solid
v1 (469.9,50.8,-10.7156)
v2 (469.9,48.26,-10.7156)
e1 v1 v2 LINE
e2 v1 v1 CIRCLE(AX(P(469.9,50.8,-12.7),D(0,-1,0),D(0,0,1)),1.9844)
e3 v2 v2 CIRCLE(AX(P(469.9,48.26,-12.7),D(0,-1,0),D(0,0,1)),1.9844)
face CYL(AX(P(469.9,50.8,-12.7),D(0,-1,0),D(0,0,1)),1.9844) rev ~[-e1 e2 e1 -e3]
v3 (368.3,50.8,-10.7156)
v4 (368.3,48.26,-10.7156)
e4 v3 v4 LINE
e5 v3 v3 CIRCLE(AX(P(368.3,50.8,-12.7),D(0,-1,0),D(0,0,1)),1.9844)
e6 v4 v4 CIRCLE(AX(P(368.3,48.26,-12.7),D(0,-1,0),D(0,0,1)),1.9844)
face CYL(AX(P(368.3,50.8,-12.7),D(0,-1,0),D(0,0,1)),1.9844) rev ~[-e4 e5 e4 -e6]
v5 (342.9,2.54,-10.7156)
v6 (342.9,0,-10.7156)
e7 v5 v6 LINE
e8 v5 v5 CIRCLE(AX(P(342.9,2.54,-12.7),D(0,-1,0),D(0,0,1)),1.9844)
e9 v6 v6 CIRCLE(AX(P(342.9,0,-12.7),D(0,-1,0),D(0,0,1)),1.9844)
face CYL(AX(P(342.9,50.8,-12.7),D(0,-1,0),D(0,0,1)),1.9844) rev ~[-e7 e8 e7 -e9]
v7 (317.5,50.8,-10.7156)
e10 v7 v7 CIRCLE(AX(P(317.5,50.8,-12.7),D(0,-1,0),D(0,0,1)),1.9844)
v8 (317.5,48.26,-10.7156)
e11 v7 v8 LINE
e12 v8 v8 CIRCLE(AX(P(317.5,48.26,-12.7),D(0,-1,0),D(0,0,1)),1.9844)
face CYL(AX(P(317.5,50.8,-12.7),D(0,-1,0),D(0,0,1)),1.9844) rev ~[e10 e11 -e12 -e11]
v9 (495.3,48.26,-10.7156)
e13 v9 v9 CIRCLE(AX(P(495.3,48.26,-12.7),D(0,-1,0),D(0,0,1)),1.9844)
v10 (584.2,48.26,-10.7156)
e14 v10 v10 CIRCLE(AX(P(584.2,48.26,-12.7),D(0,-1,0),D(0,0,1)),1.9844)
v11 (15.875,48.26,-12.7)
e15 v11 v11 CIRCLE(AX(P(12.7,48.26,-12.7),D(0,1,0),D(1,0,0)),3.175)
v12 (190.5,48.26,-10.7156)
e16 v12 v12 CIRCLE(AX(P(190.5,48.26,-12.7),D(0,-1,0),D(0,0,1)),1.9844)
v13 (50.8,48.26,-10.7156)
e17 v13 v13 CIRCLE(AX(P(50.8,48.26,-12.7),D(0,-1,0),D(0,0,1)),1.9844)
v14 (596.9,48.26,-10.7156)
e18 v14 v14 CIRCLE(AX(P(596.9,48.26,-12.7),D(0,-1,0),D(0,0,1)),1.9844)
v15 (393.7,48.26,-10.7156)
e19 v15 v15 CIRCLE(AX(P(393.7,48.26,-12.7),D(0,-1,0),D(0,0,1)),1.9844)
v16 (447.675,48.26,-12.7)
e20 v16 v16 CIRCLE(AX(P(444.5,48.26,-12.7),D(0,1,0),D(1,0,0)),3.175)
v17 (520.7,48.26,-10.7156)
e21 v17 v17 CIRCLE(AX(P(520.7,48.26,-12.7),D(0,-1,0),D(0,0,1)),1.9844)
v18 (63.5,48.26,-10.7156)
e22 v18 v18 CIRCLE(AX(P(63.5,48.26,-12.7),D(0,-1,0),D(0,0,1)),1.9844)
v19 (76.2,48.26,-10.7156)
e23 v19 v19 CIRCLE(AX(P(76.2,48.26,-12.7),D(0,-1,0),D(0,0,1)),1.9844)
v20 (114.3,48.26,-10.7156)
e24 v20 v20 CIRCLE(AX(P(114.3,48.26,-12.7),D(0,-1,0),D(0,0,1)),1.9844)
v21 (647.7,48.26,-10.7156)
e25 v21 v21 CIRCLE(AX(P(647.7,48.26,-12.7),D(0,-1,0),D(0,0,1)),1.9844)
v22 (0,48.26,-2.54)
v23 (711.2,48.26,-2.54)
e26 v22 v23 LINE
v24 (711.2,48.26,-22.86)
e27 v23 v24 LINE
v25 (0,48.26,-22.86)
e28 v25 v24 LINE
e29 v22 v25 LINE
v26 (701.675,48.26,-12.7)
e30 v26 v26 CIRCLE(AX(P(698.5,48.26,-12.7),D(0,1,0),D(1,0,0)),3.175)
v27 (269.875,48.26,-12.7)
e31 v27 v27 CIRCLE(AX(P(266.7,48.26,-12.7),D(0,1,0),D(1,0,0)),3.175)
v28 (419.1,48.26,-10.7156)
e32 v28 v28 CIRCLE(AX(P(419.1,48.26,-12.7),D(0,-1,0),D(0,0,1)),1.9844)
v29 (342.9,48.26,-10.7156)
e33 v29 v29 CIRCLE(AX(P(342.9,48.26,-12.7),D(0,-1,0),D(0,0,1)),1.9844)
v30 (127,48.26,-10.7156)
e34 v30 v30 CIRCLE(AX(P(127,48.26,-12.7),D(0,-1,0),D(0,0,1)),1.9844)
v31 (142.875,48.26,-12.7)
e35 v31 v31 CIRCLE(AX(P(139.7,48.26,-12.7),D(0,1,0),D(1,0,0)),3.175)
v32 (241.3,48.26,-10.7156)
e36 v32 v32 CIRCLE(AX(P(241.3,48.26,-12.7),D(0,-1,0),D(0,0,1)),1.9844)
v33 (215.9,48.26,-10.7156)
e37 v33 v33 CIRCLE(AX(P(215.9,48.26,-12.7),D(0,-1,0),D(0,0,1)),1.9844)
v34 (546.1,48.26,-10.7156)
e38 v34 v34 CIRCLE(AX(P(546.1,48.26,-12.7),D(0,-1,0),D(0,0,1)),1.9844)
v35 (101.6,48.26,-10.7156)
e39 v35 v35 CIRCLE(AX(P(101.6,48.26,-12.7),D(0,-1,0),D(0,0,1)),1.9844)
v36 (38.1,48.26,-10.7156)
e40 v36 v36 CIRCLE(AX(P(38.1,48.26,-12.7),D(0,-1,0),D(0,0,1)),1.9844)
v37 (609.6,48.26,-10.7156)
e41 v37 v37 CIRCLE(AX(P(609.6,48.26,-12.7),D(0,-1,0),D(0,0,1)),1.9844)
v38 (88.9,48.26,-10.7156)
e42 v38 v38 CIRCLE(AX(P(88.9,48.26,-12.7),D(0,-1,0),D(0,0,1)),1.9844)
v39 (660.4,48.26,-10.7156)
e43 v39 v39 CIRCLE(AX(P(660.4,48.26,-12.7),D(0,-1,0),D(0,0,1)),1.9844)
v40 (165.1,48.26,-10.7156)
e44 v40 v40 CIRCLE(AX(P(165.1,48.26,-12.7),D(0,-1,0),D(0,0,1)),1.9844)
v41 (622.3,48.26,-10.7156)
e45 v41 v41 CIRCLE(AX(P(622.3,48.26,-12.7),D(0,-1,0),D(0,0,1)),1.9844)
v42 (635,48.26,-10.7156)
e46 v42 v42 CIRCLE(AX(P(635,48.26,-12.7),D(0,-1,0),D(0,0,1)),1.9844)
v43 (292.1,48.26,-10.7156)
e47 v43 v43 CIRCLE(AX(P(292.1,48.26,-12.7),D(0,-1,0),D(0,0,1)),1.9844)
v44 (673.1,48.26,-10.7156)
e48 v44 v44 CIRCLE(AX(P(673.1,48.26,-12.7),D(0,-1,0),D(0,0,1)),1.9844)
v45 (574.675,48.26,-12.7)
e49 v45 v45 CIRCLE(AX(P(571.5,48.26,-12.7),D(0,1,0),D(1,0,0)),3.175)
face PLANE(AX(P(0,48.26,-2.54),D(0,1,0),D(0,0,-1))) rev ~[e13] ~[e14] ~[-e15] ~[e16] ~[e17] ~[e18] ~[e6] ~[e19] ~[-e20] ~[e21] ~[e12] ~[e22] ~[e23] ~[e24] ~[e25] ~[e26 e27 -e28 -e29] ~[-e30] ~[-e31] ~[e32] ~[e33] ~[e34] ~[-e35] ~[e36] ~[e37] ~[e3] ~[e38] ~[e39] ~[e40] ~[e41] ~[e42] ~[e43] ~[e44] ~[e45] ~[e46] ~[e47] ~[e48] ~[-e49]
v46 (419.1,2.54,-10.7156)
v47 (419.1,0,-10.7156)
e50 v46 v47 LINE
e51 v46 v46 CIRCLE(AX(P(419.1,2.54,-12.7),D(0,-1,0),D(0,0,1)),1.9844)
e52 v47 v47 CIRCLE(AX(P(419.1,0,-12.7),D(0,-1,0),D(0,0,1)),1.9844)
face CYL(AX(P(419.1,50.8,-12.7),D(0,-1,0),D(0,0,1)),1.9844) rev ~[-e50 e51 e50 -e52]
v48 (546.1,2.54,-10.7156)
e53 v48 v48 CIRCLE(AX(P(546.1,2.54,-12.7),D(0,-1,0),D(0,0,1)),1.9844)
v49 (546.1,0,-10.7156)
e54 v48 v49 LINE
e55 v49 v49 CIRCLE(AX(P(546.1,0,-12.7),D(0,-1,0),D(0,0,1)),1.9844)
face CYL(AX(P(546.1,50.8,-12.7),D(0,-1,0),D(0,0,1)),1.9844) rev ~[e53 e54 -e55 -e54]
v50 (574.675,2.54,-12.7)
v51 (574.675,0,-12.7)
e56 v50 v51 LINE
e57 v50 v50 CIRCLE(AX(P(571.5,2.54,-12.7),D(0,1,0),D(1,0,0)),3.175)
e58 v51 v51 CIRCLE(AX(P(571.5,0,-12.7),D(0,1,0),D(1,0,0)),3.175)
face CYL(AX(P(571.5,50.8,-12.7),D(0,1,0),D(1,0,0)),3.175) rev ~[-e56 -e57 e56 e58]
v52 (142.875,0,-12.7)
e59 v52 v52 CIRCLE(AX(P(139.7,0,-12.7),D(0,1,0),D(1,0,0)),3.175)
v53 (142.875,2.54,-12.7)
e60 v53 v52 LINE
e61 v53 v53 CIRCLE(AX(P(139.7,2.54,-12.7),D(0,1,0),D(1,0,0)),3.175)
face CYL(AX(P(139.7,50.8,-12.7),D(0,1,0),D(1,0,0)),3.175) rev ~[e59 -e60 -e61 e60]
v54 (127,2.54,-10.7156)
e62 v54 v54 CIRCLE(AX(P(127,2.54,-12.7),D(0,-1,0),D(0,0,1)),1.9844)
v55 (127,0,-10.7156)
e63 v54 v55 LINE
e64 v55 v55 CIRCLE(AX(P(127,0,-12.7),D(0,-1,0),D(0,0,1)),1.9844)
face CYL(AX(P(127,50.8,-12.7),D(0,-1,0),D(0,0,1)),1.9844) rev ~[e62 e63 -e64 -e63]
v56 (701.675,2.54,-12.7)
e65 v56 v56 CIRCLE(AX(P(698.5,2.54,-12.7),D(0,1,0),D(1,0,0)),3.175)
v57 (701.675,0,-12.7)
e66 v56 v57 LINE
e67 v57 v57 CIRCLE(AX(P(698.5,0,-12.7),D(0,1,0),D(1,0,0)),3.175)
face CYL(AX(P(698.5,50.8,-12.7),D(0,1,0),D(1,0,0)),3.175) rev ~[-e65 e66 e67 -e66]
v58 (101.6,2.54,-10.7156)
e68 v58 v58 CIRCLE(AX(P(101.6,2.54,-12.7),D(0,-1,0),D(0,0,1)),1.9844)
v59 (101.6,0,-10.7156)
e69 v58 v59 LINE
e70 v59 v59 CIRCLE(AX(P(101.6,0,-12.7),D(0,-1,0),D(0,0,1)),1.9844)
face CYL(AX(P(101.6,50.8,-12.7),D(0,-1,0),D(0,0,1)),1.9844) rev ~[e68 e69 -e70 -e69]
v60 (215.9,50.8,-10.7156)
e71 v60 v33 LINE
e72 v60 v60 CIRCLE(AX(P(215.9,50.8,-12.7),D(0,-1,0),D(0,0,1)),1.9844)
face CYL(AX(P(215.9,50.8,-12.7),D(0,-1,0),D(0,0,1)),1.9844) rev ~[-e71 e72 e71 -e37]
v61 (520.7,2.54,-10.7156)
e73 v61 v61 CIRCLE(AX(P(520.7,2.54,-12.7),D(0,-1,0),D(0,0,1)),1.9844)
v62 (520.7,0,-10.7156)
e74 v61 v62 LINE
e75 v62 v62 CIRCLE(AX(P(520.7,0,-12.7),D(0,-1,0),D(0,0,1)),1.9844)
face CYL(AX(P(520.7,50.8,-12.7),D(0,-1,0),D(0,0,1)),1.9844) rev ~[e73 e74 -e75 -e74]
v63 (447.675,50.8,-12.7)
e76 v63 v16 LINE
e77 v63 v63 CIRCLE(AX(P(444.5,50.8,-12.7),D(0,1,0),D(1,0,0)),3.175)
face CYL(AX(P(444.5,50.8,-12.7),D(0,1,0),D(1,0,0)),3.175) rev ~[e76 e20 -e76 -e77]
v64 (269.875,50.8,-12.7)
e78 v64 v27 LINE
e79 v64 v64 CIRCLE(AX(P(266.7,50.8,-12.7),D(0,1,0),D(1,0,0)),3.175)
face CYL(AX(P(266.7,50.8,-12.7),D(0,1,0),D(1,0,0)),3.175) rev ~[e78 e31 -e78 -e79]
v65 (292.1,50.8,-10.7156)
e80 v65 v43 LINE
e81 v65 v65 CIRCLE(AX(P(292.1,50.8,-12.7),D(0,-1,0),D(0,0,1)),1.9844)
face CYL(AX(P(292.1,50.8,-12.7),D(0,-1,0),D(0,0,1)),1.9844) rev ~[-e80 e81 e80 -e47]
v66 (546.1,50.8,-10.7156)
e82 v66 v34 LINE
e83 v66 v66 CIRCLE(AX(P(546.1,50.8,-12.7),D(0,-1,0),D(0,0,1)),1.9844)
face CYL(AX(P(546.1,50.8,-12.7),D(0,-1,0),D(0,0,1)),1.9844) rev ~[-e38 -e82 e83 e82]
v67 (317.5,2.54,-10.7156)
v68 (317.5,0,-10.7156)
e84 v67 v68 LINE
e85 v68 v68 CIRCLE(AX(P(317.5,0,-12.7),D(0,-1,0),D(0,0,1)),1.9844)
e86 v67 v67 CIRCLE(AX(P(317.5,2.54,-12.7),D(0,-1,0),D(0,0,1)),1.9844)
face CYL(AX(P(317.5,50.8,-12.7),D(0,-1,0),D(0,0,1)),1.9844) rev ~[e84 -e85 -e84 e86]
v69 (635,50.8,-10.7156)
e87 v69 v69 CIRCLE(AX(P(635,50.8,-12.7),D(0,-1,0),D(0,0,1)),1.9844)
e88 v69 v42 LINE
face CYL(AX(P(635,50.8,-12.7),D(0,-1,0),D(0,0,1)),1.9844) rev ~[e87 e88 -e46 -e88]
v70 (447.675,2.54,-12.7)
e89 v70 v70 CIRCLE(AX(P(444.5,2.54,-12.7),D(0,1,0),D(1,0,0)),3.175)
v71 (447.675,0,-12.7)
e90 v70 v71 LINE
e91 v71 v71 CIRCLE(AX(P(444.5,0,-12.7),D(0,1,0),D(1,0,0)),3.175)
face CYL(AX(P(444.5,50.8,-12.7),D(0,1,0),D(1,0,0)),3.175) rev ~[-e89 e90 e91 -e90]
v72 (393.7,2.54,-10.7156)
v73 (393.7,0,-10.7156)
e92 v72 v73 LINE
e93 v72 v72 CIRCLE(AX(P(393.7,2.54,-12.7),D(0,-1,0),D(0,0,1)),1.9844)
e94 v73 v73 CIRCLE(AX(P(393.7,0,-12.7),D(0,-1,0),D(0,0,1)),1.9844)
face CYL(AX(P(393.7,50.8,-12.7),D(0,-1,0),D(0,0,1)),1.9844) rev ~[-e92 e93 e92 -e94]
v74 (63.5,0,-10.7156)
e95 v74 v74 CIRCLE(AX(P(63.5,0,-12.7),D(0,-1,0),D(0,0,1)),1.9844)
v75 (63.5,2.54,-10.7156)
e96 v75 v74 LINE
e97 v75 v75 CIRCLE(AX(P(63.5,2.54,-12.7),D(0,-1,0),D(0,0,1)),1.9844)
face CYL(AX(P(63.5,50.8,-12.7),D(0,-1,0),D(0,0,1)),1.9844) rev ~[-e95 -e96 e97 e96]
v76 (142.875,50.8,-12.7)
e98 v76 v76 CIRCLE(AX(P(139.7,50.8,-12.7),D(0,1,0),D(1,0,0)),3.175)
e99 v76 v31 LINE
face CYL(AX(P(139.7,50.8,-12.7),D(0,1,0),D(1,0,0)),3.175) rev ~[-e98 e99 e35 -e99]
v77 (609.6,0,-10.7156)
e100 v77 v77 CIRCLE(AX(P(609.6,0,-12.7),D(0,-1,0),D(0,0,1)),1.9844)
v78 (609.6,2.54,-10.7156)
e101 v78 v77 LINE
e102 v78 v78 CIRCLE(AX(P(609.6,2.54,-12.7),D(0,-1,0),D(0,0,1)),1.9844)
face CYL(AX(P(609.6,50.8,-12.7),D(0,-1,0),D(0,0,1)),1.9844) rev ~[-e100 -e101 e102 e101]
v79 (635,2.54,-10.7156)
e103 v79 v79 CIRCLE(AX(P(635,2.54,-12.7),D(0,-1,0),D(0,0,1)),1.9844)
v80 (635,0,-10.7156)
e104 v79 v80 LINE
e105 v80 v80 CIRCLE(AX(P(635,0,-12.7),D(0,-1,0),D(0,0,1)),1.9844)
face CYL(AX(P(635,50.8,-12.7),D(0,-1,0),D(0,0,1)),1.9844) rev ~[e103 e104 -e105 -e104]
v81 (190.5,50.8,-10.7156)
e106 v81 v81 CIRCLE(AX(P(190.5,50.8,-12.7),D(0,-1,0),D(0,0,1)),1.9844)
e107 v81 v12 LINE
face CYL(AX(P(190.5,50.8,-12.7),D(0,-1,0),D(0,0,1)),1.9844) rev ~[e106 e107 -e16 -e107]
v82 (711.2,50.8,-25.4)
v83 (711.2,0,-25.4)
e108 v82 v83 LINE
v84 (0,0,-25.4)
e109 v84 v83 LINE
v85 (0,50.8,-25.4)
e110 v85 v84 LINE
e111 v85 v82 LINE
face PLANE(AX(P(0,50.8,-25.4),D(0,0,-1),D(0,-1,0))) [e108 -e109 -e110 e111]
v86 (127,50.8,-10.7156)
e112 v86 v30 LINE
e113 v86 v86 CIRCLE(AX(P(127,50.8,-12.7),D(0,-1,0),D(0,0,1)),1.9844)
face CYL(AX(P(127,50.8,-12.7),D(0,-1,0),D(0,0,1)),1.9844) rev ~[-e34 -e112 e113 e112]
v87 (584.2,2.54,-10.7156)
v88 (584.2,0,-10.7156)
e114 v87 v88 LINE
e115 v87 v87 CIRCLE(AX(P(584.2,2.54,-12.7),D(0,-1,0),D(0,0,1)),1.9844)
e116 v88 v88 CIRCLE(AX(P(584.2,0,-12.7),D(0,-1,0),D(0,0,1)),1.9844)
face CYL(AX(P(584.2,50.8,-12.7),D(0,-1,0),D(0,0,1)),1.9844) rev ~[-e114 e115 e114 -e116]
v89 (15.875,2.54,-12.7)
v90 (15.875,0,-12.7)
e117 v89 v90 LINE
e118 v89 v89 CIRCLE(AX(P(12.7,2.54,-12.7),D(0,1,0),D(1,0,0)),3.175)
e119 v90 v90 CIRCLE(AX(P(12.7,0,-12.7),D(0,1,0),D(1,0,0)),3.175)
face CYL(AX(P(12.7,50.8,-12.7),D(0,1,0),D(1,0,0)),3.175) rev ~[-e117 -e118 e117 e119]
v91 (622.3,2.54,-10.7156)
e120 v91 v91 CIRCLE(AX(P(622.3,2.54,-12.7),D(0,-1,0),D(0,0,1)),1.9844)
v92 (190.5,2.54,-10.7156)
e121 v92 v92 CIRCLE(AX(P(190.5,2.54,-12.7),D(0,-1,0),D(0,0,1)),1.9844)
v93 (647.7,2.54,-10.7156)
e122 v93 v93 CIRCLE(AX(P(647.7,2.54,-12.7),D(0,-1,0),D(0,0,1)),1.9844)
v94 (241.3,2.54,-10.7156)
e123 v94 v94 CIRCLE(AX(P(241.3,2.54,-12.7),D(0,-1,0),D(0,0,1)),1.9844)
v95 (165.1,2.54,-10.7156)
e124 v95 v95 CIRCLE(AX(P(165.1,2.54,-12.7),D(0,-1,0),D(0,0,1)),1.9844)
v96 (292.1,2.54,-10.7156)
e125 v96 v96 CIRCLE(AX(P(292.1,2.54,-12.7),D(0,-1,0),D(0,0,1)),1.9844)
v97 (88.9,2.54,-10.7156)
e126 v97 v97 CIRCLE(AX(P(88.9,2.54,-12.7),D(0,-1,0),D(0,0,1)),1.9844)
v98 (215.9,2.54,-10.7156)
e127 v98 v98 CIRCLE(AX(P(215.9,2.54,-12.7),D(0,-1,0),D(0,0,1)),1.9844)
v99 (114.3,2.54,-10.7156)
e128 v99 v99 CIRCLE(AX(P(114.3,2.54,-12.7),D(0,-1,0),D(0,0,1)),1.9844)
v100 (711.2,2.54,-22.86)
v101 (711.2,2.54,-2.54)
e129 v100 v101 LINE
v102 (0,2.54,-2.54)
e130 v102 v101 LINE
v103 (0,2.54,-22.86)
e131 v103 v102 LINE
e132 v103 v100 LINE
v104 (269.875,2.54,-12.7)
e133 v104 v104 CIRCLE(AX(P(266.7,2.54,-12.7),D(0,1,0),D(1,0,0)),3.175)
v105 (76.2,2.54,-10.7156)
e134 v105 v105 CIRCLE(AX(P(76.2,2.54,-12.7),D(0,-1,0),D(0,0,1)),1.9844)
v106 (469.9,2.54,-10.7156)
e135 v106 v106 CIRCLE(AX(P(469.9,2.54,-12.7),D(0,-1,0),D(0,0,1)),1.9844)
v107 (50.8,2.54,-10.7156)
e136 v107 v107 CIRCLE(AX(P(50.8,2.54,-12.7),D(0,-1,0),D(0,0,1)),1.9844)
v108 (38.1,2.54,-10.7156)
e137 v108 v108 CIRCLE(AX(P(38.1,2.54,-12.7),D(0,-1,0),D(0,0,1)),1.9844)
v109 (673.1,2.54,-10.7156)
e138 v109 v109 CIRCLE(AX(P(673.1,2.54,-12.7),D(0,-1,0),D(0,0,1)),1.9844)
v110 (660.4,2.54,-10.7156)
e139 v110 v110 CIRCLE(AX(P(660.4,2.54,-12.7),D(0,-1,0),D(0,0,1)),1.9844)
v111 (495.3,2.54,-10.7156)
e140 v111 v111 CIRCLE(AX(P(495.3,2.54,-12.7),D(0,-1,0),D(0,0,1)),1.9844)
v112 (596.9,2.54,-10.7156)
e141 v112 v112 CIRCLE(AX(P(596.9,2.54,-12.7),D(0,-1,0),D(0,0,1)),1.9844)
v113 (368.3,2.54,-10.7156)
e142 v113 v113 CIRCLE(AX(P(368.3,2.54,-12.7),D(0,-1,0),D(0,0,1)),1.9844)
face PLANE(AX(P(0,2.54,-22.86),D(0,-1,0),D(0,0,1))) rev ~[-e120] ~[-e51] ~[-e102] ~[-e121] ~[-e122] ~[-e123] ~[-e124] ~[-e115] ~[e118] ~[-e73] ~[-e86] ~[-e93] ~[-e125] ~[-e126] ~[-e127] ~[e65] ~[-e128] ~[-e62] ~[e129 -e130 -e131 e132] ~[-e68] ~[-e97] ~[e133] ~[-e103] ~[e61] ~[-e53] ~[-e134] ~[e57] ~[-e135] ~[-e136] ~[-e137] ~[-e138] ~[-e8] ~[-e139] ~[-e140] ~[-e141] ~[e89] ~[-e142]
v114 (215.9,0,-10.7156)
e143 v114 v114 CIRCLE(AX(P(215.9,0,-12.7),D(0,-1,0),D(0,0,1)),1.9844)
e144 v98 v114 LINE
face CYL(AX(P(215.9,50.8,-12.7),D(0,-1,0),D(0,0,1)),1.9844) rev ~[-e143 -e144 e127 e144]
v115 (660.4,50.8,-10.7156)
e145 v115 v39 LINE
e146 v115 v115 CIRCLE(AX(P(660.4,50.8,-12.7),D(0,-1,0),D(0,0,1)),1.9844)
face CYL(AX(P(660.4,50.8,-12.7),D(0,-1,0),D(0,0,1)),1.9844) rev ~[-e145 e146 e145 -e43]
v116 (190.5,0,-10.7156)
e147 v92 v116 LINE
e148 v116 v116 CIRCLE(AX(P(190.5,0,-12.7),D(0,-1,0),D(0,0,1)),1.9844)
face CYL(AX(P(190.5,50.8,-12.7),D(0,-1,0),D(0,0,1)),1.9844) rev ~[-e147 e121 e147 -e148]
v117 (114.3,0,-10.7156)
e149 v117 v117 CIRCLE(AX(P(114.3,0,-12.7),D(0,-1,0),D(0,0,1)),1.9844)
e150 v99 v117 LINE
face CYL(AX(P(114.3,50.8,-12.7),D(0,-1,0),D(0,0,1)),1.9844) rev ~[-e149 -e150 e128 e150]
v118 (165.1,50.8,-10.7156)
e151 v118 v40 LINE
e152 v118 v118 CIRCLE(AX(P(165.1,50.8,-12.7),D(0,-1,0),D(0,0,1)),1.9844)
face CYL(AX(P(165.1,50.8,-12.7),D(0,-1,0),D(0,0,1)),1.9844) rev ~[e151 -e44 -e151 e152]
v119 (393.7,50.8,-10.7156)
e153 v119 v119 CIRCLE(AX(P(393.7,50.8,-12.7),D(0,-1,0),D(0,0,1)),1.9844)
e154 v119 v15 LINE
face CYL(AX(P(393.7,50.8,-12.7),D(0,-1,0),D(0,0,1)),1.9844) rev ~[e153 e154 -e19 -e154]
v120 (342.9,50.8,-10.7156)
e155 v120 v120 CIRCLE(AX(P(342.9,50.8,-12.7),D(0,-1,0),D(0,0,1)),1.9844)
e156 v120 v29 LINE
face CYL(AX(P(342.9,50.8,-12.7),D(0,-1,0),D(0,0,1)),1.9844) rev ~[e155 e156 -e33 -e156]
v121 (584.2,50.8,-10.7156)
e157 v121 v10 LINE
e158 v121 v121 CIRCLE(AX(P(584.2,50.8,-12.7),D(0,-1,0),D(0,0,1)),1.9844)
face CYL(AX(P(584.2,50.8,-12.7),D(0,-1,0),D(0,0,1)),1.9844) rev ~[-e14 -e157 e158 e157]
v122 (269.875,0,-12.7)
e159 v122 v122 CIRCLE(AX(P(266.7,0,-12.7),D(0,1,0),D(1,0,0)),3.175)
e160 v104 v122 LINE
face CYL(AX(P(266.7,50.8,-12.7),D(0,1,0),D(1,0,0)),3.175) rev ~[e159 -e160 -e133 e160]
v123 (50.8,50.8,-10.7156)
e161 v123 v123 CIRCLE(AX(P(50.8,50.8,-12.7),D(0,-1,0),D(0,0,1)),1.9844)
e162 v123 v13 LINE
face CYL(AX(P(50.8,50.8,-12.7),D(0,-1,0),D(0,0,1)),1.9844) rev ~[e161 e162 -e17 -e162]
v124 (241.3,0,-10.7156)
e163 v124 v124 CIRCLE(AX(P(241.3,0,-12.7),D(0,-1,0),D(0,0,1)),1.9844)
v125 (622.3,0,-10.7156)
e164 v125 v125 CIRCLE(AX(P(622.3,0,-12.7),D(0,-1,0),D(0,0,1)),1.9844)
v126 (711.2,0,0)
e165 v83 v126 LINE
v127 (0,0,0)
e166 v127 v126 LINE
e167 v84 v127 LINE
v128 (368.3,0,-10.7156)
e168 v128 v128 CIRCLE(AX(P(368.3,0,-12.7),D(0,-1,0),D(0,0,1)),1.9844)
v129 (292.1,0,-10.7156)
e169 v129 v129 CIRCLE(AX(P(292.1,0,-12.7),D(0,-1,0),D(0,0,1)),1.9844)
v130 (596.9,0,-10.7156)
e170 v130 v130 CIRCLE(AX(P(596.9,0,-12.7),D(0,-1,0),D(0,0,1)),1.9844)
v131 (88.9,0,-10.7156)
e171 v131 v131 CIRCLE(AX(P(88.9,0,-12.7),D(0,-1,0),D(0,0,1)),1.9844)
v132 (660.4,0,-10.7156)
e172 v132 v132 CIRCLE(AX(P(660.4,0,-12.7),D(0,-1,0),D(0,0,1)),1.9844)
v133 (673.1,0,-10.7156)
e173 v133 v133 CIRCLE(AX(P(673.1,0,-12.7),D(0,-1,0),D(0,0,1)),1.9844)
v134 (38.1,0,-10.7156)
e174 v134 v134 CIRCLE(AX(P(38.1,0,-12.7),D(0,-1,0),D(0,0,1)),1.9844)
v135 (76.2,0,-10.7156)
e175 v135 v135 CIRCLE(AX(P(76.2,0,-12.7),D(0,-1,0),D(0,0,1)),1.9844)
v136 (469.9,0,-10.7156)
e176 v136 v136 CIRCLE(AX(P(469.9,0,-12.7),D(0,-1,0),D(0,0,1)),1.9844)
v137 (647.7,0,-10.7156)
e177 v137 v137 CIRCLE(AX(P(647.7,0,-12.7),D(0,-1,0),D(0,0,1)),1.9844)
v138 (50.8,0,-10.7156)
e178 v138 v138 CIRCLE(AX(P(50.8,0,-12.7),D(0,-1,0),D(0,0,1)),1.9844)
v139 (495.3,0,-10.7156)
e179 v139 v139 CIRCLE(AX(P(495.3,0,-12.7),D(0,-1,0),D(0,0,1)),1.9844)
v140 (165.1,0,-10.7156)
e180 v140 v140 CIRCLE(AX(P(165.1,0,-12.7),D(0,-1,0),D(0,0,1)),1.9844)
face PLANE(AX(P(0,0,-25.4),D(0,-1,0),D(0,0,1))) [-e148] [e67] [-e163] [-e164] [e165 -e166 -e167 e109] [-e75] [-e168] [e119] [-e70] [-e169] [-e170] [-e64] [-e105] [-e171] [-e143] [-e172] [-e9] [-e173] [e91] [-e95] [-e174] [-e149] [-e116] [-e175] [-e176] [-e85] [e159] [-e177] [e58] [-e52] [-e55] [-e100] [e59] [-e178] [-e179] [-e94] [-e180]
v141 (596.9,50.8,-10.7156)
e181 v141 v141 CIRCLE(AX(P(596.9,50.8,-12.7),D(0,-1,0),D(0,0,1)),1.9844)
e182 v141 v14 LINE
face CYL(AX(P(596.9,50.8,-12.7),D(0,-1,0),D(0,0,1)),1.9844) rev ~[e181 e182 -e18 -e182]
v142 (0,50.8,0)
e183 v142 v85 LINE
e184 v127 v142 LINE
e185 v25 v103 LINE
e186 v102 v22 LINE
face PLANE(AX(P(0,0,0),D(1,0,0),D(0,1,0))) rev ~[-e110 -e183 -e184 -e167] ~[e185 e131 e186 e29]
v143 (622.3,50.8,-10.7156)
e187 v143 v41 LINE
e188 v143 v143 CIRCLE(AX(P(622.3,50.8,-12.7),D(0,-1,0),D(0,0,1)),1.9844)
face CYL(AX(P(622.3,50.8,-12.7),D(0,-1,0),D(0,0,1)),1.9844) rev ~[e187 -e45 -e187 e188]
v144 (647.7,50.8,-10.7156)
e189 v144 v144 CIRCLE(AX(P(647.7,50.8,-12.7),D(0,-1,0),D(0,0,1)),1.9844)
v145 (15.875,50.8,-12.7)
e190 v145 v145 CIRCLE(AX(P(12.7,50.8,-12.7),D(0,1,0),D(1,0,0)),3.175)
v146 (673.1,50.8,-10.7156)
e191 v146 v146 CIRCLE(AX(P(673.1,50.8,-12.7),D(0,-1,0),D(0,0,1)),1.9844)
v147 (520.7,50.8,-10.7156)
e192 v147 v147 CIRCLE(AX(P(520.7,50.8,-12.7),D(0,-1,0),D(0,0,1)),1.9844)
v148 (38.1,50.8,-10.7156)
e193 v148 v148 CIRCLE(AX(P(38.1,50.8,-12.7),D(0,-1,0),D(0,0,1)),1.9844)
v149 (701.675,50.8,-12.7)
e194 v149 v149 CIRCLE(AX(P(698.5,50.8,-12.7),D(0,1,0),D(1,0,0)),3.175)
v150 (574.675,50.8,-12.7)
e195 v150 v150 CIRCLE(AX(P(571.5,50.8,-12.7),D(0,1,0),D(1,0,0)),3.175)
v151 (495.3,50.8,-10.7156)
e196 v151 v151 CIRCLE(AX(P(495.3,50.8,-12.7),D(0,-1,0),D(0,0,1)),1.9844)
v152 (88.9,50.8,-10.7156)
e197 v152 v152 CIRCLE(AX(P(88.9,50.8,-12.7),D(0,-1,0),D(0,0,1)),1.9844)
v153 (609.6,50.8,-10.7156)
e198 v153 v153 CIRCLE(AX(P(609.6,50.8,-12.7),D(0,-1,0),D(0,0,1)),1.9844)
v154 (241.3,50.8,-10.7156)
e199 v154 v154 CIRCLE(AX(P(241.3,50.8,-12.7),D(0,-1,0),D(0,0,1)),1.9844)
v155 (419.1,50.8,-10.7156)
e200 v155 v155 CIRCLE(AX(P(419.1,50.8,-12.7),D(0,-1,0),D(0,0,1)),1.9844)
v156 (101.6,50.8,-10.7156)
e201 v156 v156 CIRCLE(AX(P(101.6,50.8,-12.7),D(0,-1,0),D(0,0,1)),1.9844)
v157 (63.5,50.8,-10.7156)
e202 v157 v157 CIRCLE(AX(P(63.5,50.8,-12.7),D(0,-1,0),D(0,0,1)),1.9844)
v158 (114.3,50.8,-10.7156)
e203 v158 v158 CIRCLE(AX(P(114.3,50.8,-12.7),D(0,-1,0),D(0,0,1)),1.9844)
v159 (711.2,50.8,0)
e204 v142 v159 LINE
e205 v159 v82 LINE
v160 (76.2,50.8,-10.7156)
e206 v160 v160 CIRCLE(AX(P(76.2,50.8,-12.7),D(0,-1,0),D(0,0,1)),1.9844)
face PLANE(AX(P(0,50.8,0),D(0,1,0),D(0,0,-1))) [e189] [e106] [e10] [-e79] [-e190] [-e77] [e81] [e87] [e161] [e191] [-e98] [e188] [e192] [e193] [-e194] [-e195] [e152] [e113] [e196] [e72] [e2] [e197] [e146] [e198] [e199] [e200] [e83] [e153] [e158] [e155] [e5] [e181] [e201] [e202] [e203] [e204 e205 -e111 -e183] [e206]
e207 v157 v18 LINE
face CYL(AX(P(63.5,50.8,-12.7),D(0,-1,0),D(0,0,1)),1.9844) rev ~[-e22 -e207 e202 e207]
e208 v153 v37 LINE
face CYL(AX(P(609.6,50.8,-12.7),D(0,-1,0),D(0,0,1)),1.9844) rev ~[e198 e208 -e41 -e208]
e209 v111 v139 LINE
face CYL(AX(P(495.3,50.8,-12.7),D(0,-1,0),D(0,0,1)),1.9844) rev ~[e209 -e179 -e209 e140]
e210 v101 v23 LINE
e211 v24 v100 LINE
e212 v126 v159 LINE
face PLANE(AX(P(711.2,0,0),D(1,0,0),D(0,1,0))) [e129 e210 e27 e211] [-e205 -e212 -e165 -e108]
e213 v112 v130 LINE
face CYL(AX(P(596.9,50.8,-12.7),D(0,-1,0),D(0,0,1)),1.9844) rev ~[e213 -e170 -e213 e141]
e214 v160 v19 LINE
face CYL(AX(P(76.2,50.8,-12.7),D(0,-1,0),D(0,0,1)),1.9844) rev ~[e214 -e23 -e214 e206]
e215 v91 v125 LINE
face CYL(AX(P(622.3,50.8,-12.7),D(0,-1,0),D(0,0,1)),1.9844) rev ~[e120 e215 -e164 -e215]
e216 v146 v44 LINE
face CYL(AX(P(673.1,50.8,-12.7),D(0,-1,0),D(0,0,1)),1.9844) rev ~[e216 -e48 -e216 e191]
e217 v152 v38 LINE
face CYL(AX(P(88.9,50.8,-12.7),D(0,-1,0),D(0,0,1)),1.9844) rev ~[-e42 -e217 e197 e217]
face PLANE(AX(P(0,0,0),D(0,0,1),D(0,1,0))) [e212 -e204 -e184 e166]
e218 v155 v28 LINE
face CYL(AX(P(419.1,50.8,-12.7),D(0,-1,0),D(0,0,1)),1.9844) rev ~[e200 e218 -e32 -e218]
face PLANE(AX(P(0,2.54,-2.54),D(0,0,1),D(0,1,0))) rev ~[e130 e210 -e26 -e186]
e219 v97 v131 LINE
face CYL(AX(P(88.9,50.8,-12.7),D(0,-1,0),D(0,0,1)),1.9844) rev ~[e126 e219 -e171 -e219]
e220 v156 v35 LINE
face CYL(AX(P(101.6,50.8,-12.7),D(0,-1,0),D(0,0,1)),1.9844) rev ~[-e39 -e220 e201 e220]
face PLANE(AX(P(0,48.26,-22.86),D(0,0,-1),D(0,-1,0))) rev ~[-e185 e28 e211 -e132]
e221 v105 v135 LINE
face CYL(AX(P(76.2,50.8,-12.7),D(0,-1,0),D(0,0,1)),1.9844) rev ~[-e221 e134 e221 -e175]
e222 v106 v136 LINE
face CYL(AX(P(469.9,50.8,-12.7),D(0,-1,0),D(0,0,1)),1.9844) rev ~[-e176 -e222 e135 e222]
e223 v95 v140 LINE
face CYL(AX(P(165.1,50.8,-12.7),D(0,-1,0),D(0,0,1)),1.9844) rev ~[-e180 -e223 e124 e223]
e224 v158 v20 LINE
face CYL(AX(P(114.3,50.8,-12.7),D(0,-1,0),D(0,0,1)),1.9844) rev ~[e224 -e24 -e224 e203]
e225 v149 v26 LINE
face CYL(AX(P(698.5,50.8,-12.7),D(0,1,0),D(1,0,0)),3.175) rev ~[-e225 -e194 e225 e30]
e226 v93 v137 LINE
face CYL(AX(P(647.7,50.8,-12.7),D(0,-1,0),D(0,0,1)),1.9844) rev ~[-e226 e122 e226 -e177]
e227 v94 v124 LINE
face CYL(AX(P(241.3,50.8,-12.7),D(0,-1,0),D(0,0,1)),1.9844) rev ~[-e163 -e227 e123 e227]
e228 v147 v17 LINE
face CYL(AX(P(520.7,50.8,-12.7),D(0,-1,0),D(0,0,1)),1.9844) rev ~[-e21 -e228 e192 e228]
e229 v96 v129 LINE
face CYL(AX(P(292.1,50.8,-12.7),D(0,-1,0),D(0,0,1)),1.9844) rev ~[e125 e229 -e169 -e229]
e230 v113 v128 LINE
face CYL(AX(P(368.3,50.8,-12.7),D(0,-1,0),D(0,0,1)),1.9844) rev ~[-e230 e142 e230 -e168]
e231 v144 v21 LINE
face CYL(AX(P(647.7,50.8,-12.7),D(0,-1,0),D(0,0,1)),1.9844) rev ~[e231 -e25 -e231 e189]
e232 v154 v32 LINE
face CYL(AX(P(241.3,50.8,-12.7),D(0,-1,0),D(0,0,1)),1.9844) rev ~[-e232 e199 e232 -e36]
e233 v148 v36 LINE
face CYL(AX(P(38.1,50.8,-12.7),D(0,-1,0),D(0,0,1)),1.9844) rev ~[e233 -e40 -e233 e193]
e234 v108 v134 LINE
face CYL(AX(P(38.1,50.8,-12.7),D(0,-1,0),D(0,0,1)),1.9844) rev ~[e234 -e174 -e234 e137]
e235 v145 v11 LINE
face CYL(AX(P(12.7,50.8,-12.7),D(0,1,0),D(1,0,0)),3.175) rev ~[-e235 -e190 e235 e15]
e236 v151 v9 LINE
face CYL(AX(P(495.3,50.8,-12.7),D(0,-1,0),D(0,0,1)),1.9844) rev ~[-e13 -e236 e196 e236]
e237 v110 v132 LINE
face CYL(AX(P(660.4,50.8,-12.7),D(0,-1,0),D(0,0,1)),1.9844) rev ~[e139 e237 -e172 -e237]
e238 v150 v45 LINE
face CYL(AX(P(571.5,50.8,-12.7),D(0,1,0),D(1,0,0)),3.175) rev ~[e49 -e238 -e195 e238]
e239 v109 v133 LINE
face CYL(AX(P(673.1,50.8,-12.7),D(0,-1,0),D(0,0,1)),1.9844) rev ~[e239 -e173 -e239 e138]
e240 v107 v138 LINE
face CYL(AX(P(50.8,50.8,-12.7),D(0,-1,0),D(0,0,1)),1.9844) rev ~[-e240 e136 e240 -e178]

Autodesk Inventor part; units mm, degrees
ref_plane "YZ Plane" through (0, 0, 0) normal (1, 0, 0) x (0, 1, 0)
ref_plane "XZ Plane" through (0, 0, 0) normal (0, 1, 0) x (-1, 0, 0)
ref_plane "XY Plane" through (0, 0, 0) normal (0, 0, 1) x (1, 0, 0)
sketch "Sketch1" plane through (0, 0, 0) normal (1, 0, 0) x (0, 1, 0)
  line L0 (0, 0) -> (50.8, 0)
  line L1 (50.8, 0) -> (50.8, -25.4)
  line L2 (50.8, -25.4) -> (0, -25.4)
  line L3 (0, -25.4) -> (0, 0)
  line L4 (2.54, -2.54) -> (48.26, -2.54)
  line L5 (48.26, -2.54) -> (48.26, -22.86)
  line L6 (48.26, -22.86) -> (2.54, -22.86)
  line L7 (2.54, -22.86) -> (2.54, -2.54)
  dimension "d0" = 50.8
  dimension "d1" = 25.4
  dimension "d2" = 45.72
  dimension "d3" = 20.32
  dimension "d4" = 2.54
  dimension "d5" = 2.54
extrude "Extrusion1" add sketch "Sketch1" along normal blind 711.2
sketch "Sketch2" plane through (0, 50.8, 0) normal (0, 1, 0) x (1, 0, 0)
  line L0 (0, 0) -> (0, 25.4) projected
  line L1 (0, 0) -> (711.2, 0) projected
  line L2 (711.2, 25.4) -> (711.2, 0) projected
  line L3 (0, 25.4) -> (711.2, 25.4) projected
  line L4 (0, 2.54) -> (0, 22.86) projected
  point P0 (12.7, 12.7)
  dimension "d9" = 12.7
  dimension "d10" = 12.7
hole "Hole1" at (12.7, 50.8, -12.7) direction (0, -1, 0) diameter 3.9688 end through all
pattern_linear "Rectangular Pattern1" count 28 spacing 25.4 along (1, 0, 0) of "Hole1"
sketch "Sketch6" plane through (0, 50.8, 0) normal (0, 1, 0) x (1, 0, 0)
  circle A0 centre (698.5, 12.7) radius 1.9844 projected
  circle A1 centre (673.1, 12.7) radius 1.9844 projected
  circle A2 centre (647.7, 12.7) radius 1.9844 projected
  circle A3 centre (622.3, 12.7) radius 1.9844 projected
  circle A4 centre (596.9, 12.7) radius 1.9844 projected
  circle A5 centre (571.5, 12.7) radius 1.9844 projected
  circle A6 centre (546.1, 12.7) radius 1.9844 projected
  circle A7 centre (520.7, 12.7) radius 1.9844 projected
  circle A8 centre (495.3, 12.7) radius 1.9844 projected
  circle A9 centre (469.9, 12.7) radius 1.9844 projected
  circle A10 centre (444.5, 12.7) radius 1.9844 projected
  circle A11 centre (419.1, 12.7) radius 1.9844 projected
  circle A12 centre (393.7, 12.7) radius 1.9844 projected
  circle A13 centre (368.3, 12.7) radius 1.9844 projected
  circle A14 centre (342.9, 12.7) radius 1.9844 projected
  circle A15 centre (317.5, 12.7) radius 1.9844 projected
  circle A16 centre (292.1, 12.7) radius 1.9844 projected
  circle A17 centre (266.7, 12.7) radius 1.9844 projected
  circle A18 centre (241.3, 12.7) radius 1.9844 projected
  circle A19 centre (215.9, 12.7) radius 1.9844 projected
  circle A20 centre (190.5, 12.7) radius 1.9844 projected
  circle A21 centre (165.1, 12.7) radius 1.9844 projected
  circle A22 centre (139.7, 12.7) radius 1.9844 projected
  circle A23 centre (114.3, 12.7) radius 1.9844 projected
  circle A24 centre (88.9, 12.7) radius 1.9844 projected
  circle A25 centre (63.5, 12.7) radius 1.9844 projected
  circle A26 centre (38.1, 12.7) radius 1.9844 projected
  circle A27 centre (12.7, 12.7) radius 1.9844 projected
  line L0 (0, 0) -> (0, 25.4) projected
  line L1 (0, 0) -> (711.2, 0) projected
  line L2 (711.2, 25.4) -> (711.2, 0) projected
  line L3 (0, 25.4) -> (711.2, 25.4) projected
  circle A28 centre (139.7, 12.7) radius 1.9844 projected
  circle A29 centre (139.7, 12.7) radius 3.175
  circle A30 centre (266.7, 12.7) radius 3.175
  circle A31 centre (571.5, 12.7) radius 3.175
  circle A32 centre (444.5, 12.7) radius 1.9844 projected
  circle A33 centre (444.5, 12.7) radius 3.175
  circle A34 centre (698.5, 12.7) radius 1.9844 projected
  circle A35 centre (698.5, 12.7) radius 3.175
  circle A36 centre (12.7, 12.7) radius 3.175
  dimension "d58" = 6.35
  dimension "d59" = 6.35
  dimension "d60" = 6.35
  dimension "d61" = 6.35
  dimension "d62" = 6.35
  dimension "d63" = 6.35
extrude "Extrusion4" cut sketch "Sketch6" against normal blind 50.8 contours A29 | A30 | A31 | A33 | A35 | A36
sketch "Sketch7" plane through (0, 50.8, 0) normal (0, 1, 0) x (1, 0, 0)
  line L0 (0, 25.4) -> (711.2, 25.4) projected
  circle A0 centre (698.5, 12.7) radius 3.175 projected
  circle A1 centre (571.5, 12.7) radius 3.175 projected
  circle A2 centre (139.7, 12.7) radius 3.175 projected
  circle A3 centre (266.7, 12.7) radius 3.175 projected
  circle A4 centre (444.5, 12.7) radius 3.175 projected
  circle A5 centre (12.7, 12.7) radius 3.175 projected
  circle A6 centre (673.1, 12.7) radius 1.9844 projected
  circle A7 centre (647.7, 12.7) radius 1.9844 projected
  circle A8 centre (622.3, 12.7) radius 1.9844 projected
  circle A9 centre (596.9, 12.7) radius 1.9844 projected
  circle A10 centre (546.1, 12.7) radius 1.9844 projected
  circle A11 centre (520.7, 12.7) radius 1.9844 projected
  circle A12 centre (495.3, 12.7) radius 1.9844 projected
  circle A13 centre (469.9, 12.7) radius 1.9844 projected
  circle A14 centre (419.1, 12.7) radius 1.9844 projected
  circle A15 centre (393.7, 12.7) radius 1.9844 projected
  circle A16 centre (368.3, 12.7) radius 1.9844 projected
  circle A17 centre (342.9, 12.7) radius 1.9844 projected
  circle A18 centre (317.5, 12.7) radius 1.9844 projected
  circle A19 centre (292.1, 12.7) radius 1.9844 projected
  circle A20 centre (241.3, 12.7) radius 1.9844 projected
  circle A21 centre (215.9, 12.7) radius 1.9844 projected
  circle A22 centre (190.5, 12.7) radius 1.9844 projected
  circle A23 centre (165.1, 12.7) radius 1.9844 projected
  circle A24 centre (114.3, 12.7) radius 1.9844 projected
  circle A25 centre (88.9, 12.7) radius 1.9844 projected
  circle A26 centre (63.5, 12.7) radius 1.9844 projected
  circle A27 centre (38.1, 12.7) radius 1.9844 projected
  line L1 (0, 0) -> (0, 25.4) projected
  line L2 (0, 0) -> (711.2, 0) projected
  line L3 (711.2, 25.4) -> (711.2, 0) projected
  line L4 (0, 25.4) -> (711.2, 25.4) projected
  point P0 (127, 12.7)
  point P1 (101.6, 12.7)
  point P2 (76.2, 12.7)
  point P3 (50.8, 12.7)
  point P4 (584.2, 12.7)
  point P5 (609.6, 12.7)
  point P6 (635, 12.7)
  point P7 (660.4, 12.7)
  dimension "d66" = 12.7
  dimension "d67" = 12.7
  dimension "d68" = 12.7
  dimension "d69" = 12.7
  dimension "d70" = 50.8
  dimension "d71" = 76.2
  dimension "d72" = 101.6
  dimension "d73" = 127
  dimension "d74" = 50.8
  dimension "d75" = 76.2
  dimension "d76" = 101.6
  dimension "d77" = 127
  dimension "d78" = 12.7
  dimension "d79" = 12.7
  dimension "d80" = 12.7
  dimension "d81" = 12.7
hole "Hole3" at (127, 50.8, -12.7) at (101.6, 50.8, -12.7) at (76.2, 50.8, -12.7) at (50.8, 50.8, -12.7) at (584.2, 50.8, -12.7) at (609.6, 50.8, -12.7) at (635, 50.8, -12.7) at (660.4, 50.8, -12.7) direction (0, -1, 0) diameter 3.9688 end through all
properties part number "frame_wide"
